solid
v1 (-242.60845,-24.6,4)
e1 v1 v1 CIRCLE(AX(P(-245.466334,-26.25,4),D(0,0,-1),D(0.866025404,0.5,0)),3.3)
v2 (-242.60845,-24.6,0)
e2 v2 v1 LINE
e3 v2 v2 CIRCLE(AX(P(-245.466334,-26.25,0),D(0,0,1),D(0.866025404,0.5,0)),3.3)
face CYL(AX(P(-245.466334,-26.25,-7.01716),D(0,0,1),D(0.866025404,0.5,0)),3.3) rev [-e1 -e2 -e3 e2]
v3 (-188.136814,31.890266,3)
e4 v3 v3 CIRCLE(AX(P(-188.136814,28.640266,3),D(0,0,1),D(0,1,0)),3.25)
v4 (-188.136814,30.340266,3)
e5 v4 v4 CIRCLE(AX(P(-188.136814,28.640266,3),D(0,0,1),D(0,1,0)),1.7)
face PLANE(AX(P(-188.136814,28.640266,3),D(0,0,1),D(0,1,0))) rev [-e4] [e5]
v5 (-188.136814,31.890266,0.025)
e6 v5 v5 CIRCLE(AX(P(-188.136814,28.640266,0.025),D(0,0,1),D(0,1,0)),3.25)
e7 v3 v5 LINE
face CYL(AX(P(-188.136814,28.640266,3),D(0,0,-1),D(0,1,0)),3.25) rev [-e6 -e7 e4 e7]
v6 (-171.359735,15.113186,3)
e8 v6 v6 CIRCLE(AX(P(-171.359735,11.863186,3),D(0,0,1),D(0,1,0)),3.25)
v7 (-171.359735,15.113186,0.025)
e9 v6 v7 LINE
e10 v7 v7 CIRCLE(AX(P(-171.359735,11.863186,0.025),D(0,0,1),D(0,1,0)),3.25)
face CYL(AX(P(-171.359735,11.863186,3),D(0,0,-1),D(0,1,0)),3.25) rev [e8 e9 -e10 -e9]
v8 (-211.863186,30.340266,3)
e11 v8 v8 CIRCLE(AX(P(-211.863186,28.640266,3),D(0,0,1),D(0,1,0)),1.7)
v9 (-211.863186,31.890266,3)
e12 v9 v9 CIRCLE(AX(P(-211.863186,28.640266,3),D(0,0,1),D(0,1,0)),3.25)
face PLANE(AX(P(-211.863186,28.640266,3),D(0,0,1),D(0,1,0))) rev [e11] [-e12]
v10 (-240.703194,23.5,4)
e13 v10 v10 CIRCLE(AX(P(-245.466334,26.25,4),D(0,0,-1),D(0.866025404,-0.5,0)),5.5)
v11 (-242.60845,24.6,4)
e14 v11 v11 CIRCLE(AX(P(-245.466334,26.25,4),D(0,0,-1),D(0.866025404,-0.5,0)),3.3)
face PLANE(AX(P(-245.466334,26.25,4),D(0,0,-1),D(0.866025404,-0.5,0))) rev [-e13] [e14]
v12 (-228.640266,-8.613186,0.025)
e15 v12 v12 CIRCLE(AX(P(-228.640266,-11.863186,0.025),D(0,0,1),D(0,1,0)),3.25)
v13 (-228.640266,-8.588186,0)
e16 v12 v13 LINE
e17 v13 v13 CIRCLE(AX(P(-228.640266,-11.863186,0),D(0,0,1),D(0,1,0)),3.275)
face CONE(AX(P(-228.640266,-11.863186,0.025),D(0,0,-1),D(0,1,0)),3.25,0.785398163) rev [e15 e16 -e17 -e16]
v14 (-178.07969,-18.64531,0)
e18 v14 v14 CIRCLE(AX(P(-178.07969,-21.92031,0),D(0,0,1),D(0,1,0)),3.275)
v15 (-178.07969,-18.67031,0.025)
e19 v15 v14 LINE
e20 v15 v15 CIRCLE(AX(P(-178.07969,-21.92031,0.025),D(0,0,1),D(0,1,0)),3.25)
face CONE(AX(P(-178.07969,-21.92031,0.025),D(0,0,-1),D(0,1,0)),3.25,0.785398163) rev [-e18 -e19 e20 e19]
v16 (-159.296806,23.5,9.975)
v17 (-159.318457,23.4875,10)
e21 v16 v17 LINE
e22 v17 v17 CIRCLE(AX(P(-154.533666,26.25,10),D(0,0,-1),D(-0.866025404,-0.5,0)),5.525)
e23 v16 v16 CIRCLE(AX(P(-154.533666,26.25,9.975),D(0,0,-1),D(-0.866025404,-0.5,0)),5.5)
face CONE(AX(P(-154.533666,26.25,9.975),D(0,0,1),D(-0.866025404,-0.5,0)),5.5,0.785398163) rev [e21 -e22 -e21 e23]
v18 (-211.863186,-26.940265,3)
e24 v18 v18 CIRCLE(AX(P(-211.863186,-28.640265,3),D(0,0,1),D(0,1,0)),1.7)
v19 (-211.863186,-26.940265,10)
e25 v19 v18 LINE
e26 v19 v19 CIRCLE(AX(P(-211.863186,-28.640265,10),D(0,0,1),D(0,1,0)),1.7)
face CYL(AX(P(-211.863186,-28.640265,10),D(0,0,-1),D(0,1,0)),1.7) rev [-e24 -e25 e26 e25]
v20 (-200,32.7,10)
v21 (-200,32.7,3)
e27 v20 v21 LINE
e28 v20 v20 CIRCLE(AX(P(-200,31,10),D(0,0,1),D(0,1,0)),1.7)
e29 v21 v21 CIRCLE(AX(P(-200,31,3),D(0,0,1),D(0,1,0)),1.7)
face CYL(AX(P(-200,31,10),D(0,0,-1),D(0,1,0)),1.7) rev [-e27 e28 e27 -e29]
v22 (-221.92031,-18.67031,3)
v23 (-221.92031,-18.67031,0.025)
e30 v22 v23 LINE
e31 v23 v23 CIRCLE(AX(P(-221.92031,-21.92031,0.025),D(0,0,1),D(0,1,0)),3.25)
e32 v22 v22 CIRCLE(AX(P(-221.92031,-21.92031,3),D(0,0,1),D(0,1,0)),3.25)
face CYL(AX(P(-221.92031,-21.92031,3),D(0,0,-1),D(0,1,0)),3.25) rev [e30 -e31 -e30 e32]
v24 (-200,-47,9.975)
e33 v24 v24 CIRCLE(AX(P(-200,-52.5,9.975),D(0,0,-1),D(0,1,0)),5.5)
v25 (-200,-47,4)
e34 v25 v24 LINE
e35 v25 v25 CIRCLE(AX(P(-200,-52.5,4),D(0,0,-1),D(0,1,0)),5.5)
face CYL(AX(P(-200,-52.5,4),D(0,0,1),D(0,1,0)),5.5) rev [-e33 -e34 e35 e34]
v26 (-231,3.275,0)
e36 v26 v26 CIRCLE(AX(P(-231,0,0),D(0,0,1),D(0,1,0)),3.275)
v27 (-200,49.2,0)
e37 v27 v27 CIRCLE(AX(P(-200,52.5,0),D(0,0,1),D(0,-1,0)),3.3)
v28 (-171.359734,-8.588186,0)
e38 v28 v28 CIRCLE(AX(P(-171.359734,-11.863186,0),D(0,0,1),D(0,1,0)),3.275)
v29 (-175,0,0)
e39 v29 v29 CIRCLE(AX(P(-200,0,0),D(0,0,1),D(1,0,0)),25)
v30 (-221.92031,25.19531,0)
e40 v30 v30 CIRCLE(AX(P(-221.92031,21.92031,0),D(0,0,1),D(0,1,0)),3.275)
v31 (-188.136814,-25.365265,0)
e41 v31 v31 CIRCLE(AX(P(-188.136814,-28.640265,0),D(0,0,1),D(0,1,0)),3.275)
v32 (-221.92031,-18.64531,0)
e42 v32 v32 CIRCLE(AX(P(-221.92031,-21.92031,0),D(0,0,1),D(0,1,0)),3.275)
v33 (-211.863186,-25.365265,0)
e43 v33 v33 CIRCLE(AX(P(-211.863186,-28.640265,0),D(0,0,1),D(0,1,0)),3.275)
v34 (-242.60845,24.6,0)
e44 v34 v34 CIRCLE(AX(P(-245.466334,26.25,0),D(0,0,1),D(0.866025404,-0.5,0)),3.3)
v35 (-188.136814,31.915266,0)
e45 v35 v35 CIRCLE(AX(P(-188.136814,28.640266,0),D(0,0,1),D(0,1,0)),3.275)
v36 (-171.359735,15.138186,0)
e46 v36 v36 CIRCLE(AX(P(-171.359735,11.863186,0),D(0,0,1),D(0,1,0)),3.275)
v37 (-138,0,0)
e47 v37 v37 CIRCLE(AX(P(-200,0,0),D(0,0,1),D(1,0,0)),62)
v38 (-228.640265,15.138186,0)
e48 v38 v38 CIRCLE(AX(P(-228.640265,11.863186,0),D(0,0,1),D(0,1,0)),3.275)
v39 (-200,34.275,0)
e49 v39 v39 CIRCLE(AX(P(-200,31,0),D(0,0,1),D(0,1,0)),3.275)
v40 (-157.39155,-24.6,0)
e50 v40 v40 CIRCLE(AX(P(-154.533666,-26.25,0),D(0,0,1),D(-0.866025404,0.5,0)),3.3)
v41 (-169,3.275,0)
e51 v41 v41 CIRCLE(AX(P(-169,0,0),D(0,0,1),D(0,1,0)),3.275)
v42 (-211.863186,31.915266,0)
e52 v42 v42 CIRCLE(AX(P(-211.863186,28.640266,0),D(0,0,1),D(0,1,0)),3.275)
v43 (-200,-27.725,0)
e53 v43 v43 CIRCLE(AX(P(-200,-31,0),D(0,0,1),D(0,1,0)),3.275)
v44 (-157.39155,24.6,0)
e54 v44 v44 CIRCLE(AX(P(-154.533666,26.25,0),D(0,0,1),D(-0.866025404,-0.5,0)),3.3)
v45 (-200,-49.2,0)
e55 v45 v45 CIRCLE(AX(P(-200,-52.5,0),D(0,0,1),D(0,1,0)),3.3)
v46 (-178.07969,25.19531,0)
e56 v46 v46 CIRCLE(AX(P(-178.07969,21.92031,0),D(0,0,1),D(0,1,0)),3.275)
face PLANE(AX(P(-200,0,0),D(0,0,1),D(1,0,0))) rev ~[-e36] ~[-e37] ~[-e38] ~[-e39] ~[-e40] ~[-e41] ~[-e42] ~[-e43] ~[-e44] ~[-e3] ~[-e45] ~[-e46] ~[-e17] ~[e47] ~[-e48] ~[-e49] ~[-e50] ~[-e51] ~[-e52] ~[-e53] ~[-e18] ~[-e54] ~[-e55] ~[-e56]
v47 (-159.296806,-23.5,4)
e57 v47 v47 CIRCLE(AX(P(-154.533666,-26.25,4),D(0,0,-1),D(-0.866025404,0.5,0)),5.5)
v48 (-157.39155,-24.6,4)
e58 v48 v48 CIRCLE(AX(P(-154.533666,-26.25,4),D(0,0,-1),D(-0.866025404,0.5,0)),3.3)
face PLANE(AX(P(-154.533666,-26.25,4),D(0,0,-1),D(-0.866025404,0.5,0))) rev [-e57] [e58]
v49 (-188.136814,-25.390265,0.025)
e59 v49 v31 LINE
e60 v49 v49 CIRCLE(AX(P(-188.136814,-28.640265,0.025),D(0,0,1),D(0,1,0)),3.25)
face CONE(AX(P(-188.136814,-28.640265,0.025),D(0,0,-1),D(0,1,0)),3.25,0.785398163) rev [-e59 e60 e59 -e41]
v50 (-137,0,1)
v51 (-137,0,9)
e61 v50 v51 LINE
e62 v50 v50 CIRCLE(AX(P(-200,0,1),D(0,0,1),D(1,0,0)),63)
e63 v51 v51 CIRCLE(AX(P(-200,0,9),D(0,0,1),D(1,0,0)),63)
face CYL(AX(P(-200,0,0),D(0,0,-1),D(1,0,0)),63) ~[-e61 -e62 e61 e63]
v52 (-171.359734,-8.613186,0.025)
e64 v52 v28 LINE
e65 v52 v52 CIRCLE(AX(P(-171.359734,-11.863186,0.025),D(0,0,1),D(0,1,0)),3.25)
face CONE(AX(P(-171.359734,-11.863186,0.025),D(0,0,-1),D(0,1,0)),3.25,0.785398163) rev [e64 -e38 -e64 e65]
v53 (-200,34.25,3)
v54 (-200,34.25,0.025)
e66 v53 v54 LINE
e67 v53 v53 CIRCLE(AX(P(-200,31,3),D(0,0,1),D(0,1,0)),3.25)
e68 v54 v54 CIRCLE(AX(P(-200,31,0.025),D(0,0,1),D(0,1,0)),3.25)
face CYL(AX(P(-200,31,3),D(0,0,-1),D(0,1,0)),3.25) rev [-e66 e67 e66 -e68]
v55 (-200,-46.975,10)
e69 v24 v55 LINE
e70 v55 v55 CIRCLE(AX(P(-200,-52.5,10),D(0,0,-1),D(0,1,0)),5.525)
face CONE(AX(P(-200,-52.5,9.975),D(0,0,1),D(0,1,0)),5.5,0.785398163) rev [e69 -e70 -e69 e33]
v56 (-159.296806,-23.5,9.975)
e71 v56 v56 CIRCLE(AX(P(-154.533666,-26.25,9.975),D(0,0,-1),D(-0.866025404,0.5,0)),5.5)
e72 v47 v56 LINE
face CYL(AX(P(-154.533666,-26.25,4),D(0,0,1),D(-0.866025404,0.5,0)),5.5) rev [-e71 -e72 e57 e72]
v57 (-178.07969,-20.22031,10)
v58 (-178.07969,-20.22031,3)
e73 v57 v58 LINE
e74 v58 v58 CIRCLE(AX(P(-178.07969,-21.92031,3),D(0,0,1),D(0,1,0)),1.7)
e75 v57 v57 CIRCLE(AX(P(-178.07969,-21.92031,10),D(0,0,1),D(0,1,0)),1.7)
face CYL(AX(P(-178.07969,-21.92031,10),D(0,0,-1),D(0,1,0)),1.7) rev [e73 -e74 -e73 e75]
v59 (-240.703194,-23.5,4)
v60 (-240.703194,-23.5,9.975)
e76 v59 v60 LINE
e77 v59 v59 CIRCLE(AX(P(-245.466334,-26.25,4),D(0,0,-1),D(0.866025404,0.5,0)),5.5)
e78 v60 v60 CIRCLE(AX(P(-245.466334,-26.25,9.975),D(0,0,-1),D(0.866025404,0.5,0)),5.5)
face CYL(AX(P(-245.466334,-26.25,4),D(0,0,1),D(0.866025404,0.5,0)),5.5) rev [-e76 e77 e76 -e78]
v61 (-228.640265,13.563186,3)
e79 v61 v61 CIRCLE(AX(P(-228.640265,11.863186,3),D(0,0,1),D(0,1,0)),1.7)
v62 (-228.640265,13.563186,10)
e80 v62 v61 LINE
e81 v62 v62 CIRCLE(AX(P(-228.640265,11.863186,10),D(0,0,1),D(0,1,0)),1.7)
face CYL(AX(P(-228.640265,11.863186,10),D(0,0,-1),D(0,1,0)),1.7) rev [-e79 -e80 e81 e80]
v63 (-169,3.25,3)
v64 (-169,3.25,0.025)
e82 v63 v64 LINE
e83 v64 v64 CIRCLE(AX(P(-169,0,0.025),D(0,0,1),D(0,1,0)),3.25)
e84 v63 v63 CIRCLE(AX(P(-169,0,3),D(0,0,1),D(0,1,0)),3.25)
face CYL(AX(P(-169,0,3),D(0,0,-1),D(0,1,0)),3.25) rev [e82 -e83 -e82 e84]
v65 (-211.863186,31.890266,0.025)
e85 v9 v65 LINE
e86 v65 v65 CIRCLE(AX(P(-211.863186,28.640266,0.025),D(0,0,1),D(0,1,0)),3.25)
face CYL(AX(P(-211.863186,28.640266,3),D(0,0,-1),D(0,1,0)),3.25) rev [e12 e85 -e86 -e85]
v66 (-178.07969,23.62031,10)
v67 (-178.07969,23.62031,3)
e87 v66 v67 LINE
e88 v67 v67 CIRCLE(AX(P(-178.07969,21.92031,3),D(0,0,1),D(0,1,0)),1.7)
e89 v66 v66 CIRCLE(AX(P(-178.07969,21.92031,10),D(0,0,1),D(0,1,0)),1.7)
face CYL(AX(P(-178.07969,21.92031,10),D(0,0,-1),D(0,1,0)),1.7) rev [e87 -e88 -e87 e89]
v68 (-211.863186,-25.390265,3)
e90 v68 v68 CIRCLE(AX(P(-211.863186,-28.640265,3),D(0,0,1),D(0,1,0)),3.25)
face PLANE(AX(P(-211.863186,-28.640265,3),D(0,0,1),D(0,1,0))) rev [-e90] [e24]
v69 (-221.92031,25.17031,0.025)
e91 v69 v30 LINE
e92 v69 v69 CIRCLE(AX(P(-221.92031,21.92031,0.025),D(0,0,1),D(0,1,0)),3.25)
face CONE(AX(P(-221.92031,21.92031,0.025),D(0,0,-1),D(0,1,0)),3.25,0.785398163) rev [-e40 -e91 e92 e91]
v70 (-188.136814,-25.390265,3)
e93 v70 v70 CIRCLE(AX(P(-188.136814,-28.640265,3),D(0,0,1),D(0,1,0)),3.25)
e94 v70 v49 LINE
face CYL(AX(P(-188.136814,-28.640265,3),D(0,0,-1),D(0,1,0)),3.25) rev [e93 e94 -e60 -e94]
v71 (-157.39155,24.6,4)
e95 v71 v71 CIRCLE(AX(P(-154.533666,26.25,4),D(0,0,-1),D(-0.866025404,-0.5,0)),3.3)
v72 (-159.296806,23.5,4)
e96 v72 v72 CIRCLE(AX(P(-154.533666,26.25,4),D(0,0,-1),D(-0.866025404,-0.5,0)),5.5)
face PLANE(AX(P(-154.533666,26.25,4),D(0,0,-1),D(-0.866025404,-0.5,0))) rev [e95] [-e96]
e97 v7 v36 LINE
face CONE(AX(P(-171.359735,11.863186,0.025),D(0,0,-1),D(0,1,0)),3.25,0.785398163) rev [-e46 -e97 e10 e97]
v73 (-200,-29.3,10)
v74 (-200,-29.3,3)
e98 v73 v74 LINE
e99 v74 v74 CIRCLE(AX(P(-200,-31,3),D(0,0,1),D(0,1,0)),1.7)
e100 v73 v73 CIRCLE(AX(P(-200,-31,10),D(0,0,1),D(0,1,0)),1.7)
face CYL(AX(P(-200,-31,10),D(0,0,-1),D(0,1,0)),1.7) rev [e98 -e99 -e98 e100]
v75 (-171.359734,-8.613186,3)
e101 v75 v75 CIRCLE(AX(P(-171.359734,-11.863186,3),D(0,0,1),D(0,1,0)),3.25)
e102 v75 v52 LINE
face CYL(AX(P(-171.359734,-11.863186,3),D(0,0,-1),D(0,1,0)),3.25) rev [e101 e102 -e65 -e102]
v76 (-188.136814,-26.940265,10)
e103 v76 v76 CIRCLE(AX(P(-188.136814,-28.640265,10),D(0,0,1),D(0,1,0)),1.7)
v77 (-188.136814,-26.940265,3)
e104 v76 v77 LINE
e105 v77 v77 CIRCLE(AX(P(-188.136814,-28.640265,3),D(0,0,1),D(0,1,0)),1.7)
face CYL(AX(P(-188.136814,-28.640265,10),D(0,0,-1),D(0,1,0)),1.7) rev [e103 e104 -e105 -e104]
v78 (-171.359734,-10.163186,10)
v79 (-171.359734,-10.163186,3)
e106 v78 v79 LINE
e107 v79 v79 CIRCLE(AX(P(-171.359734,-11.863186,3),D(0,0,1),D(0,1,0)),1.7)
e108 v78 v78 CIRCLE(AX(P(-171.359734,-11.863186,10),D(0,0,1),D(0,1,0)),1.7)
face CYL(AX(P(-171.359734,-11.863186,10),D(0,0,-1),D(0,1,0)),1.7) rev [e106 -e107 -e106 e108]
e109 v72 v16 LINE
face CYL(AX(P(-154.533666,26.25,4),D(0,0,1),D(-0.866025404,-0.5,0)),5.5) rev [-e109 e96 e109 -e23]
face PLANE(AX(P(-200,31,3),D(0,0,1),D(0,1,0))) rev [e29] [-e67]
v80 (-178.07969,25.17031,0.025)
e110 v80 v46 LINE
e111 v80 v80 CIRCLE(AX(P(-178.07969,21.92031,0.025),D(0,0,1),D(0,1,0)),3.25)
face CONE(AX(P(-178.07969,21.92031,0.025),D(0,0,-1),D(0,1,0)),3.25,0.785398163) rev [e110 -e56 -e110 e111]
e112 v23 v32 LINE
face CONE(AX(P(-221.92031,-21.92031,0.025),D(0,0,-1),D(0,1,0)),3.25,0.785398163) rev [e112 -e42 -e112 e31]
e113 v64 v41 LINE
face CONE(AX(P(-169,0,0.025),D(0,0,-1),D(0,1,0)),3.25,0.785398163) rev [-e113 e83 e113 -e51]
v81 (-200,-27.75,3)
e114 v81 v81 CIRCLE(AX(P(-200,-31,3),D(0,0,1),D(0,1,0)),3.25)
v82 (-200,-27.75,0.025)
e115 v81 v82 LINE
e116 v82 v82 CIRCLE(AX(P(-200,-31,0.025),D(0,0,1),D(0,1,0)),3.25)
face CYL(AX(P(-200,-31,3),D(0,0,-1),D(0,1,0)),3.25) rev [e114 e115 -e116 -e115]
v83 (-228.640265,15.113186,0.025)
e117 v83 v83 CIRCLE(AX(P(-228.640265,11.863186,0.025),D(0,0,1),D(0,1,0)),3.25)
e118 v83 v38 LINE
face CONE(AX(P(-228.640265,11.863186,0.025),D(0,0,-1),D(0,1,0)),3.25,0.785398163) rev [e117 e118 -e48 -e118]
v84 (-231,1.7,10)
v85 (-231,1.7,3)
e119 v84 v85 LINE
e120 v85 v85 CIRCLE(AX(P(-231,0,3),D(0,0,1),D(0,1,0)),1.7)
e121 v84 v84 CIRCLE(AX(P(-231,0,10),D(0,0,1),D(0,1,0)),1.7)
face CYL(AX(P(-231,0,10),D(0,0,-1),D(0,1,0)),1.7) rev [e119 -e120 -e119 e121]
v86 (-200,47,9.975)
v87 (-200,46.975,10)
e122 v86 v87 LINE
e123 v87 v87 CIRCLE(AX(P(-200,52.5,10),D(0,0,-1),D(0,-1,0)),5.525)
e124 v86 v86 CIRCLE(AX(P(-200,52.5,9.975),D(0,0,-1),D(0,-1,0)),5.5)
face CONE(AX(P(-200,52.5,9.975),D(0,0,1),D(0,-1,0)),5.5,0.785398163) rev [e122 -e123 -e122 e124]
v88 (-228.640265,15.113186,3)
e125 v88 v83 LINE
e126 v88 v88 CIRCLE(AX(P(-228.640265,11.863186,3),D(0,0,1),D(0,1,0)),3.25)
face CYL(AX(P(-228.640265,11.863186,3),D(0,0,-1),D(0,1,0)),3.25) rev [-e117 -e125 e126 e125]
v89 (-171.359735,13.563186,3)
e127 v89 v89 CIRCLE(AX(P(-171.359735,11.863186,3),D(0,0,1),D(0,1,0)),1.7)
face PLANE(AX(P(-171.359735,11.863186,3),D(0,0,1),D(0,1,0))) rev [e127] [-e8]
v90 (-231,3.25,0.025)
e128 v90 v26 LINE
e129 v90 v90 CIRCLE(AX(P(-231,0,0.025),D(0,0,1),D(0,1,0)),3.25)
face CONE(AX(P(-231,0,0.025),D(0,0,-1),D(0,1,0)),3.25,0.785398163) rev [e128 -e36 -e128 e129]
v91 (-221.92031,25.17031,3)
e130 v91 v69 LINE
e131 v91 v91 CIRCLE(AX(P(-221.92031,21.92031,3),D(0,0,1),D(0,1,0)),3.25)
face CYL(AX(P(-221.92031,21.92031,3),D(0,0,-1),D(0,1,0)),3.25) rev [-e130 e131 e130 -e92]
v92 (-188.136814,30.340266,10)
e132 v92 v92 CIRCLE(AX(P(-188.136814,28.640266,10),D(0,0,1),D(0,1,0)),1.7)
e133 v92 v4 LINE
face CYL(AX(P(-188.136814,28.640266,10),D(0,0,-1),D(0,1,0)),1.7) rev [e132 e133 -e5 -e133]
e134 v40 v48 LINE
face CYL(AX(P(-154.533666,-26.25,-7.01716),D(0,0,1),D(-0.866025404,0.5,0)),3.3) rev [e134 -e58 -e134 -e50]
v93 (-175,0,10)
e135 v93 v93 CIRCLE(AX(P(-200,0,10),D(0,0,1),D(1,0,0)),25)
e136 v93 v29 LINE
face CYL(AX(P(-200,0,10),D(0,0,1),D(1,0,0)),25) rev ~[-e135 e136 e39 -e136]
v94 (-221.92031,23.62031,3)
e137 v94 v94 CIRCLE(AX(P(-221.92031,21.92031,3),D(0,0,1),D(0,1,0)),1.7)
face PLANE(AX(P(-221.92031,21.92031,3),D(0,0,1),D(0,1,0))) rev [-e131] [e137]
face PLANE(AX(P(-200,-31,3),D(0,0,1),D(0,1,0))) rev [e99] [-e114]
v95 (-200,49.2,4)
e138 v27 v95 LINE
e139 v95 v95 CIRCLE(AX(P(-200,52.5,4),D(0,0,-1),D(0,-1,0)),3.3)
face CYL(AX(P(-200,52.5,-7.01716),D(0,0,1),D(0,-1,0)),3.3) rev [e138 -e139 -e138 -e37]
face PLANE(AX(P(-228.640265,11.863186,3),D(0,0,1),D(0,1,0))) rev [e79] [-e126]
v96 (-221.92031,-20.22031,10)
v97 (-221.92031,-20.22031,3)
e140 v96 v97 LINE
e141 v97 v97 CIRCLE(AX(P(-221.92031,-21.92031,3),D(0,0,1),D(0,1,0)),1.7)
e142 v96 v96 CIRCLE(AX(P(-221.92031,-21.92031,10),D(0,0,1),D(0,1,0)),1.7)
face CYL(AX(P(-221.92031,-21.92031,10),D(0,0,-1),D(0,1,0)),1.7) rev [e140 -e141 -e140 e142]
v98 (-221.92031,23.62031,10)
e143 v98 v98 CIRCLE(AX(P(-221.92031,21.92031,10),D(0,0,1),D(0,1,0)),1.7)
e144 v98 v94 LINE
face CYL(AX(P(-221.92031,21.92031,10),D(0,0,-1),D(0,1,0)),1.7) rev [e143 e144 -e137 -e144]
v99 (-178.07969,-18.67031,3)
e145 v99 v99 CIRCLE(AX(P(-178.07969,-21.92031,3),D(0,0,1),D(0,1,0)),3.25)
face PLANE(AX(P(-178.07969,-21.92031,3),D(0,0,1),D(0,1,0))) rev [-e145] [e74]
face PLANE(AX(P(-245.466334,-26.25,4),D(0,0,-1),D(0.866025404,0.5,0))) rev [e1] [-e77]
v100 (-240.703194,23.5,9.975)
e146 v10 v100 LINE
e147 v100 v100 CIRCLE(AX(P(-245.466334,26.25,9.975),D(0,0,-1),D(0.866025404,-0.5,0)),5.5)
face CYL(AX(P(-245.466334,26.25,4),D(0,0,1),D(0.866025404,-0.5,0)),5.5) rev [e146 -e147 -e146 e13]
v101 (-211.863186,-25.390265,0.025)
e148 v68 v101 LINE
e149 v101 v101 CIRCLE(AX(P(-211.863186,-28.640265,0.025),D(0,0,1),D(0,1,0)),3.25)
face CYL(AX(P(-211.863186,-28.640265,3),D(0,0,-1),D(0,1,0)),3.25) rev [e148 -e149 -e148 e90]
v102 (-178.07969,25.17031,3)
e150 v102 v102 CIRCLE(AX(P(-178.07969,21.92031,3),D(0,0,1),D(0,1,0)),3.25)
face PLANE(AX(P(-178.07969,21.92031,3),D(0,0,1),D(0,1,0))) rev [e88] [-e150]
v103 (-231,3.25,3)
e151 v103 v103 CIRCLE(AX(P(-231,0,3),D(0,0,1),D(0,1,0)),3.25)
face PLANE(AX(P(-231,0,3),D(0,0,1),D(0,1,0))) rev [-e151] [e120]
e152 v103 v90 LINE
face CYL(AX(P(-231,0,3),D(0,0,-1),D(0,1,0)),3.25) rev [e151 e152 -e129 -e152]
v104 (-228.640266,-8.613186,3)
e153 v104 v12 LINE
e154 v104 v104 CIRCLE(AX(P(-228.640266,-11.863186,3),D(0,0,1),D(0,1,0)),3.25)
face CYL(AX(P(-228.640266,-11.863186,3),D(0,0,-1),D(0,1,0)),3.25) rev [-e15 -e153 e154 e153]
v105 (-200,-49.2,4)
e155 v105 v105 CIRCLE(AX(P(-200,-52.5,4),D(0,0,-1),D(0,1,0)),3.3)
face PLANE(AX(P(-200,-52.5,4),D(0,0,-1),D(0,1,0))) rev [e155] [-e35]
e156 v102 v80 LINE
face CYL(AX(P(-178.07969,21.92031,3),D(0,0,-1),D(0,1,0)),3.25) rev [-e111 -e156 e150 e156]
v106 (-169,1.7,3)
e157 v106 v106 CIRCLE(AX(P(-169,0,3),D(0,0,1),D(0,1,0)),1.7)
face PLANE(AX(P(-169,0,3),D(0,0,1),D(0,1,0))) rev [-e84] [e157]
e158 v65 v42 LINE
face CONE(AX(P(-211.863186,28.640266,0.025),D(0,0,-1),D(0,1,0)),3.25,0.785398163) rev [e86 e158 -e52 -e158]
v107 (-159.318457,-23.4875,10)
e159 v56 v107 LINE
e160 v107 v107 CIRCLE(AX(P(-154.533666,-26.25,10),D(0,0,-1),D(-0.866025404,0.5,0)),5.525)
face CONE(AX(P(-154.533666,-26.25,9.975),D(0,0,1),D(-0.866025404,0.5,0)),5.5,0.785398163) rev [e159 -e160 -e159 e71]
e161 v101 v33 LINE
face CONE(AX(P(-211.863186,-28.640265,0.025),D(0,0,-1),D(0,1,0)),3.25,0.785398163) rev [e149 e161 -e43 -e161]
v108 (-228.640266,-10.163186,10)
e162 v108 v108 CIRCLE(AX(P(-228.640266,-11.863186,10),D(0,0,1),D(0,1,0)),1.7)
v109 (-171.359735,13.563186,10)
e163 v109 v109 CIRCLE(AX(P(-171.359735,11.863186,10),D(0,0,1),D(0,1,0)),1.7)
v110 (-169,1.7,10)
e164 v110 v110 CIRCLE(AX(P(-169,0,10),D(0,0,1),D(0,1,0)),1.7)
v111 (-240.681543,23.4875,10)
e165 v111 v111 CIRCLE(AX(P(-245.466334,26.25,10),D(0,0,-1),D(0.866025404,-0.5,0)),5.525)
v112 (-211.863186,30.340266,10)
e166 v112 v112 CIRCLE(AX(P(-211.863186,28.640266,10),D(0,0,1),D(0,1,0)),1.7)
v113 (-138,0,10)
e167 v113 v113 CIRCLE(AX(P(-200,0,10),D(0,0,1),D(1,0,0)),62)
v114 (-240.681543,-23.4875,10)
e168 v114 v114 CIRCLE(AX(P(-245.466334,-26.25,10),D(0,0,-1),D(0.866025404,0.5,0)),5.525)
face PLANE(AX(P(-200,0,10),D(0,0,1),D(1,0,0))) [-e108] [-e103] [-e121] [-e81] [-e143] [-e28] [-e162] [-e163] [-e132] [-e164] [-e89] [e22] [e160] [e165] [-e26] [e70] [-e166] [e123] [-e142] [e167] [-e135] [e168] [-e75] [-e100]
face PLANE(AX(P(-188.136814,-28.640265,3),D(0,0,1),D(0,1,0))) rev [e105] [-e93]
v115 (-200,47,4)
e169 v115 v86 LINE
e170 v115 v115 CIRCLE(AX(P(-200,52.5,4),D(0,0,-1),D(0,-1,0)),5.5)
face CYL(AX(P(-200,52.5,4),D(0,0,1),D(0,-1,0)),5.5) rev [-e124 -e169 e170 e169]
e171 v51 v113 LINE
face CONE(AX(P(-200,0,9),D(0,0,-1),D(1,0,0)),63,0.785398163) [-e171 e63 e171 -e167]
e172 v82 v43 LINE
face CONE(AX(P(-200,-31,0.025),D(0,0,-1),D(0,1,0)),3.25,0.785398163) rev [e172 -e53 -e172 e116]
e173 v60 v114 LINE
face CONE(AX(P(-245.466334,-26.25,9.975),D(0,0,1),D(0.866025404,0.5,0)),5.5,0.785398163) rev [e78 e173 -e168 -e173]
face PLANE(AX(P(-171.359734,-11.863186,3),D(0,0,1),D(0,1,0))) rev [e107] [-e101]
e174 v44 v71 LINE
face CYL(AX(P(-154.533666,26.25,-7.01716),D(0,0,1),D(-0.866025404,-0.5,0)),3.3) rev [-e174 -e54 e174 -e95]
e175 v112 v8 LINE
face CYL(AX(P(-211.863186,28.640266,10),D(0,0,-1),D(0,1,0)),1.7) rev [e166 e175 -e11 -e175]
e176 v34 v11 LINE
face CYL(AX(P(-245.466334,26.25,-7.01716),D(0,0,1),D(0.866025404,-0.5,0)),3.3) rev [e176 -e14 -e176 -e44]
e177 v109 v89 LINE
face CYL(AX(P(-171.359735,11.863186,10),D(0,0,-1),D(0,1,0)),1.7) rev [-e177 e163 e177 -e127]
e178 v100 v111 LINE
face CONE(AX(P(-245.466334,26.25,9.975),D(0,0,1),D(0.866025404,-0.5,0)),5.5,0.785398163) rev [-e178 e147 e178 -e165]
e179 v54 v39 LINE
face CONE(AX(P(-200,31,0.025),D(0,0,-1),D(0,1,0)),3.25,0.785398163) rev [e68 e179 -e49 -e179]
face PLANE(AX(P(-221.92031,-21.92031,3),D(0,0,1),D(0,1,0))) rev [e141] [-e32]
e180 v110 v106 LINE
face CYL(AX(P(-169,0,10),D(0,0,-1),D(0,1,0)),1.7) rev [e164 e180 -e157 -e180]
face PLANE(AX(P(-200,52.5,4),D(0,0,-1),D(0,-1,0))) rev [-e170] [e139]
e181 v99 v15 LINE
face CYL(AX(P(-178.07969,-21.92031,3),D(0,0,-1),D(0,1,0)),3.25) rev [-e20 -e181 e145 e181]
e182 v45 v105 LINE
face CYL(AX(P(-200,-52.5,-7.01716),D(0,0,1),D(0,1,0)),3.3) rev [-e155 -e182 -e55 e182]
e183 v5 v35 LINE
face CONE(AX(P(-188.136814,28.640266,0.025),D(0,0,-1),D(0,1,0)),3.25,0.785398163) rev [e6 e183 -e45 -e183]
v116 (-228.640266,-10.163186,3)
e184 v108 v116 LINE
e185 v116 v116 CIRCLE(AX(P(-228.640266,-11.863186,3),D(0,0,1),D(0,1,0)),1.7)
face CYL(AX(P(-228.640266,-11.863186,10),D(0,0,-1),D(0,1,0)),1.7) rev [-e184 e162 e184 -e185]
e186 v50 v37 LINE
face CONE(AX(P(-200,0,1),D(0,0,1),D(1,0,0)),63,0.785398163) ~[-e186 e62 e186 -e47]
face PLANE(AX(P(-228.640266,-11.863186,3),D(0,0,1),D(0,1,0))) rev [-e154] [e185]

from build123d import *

# Parameters (mm, degrees)
SKETCH2_R                                      = 63
BOSS_EXTRUDE1_DEPTH                            = 10
SKETCH4_R                                      = 25
CUT_EXTRUDE1_DEPTH                             = 11
CIRPATTERN1_COUNT                              = 6
CBORE_FOR_M3_SOCKET_HEAD_CAP_SCREW2_AT_2_COUNT = 2
CBORE_FOR_M3_SOCKET_HEAD_CAP_SCREW2_AT_2_PITCH = 12.095599965
CBORE_FOR_M3_SOCKET_HEAD_CAP_SCREW2_AT_3_COUNT = 2
CBORE_FOR_M3_SOCKET_HEAD_CAP_SCREW2_AT_3_PITCH = 23.726372807
CBORE_FOR_M3_SOCKET_HEAD_CAP_SCREW2_AT_4_COUNT = 2
CBORE_FOR_M3_SOCKET_HEAD_CAP_SCREW2_AT_4_PITCH = 34.445354447
CBORE_FOR_M3_SOCKET_HEAD_CAP_SCREW2_AT_5_COUNT = 2
CBORE_FOR_M3_SOCKET_HEAD_CAP_SCREW2_AT_5_PITCH = 43.840620434
CBORE_FOR_M3_SOCKET_HEAD_CAP_SCREW2_AT_6_COUNT = 2
CBORE_FOR_M3_SOCKET_HEAD_CAP_SCREW2_AT_6_PITCH = 51.551115963
CBORE_FOR_M3_SOCKET_HEAD_CAP_SCREW2_AT_7_COUNT = 2
CBORE_FOR_M3_SOCKET_HEAD_CAP_SCREW2_AT_7_PITCH = 57.280531016
CBORE_FOR_M3_SOCKET_HEAD_CAP_SCREW2_AT_8_COUNT = 2
CBORE_FOR_M3_SOCKET_HEAD_CAP_SCREW2_AT_8_PITCH = 60.808687385
CBORE_FOR_M3_SOCKET_HEAD_CAP_SCREW2_AT_9_COUNT = 2
CBORE_FOR_M3_SOCKET_HEAD_CAP_SCREW2_AT_9_PITCH = 62
CBORE_FOR_M3_SOCKET_HEAD_CAP_SCREW2_AT_1_COUNT = 2
CBORE_FOR_M3_SOCKET_HEAD_CAP_SCREW2_AT_1_PITCH = 60.808687385
CBORE_FOR_M3_SOCKET_HEAD_CAP_SCREW2_2_COUNT    = 2
CBORE_FOR_M3_SOCKET_HEAD_CAP_SCREW2_2_PITCH    = 57.280531016
CBORE_FOR_M3_SOCKET_HEAD_CAP_SCREW2_3_COUNT    = 2
CBORE_FOR_M3_SOCKET_HEAD_CAP_SCREW2_3_PITCH    = 51.551115963
CBORE_FOR_M3_SOCKET_HEAD_CAP_SCREW2_4_COUNT    = 2
CBORE_FOR_M3_SOCKET_HEAD_CAP_SCREW2_4_PITCH    = 43.840620434
CBORE_FOR_M3_SOCKET_HEAD_CAP_SCREW2_5_COUNT    = 2
CBORE_FOR_M3_SOCKET_HEAD_CAP_SCREW2_5_PITCH    = 34.445354447
CBORE_FOR_M3_SOCKET_HEAD_CAP_SCREW2_6_COUNT    = 2
CBORE_FOR_M3_SOCKET_HEAD_CAP_SCREW2_6_PITCH    = 23.726372807
CBORE_FOR_M3_SOCKET_HEAD_CAP_SCREW2_7_COUNT    = 2
CBORE_FOR_M3_SOCKET_HEAD_CAP_SCREW2_7_PITCH    = 12.095599965
CHAMFER1_SIZE                                  = 1


with BuildPart() as part:
    # Sketch2 → Boss-Extrude1 (new body)
    with BuildSketch(Plane.XY):
        with Locations((-200, 0)):
            Circle(SKETCH2_R)
    extrude(amount=BOSS_EXTRUDE1_DEPTH)

    # Sketch4 → Cut-Extrude1 (cut, through all)
    with BuildSketch(Plane.XY.offset(10)):
        with Locations((-200, 0)):
            Circle(SKETCH4_R)
    extrude(amount=-CUT_EXTRUDE1_DEPTH, mode=Mode.SUBTRACT)

    # Sketch6 → CBORE for M8 Socket Head Cap Screw1 (revolve, cut)
    with BuildSketch(Plane(origin=(-200, 52.5, 10), x_dir=(0, -1, 0), z_dir=(1, 0, 0))):
        Polygon((0, 0), (0, 19), (3.3, 17.017159957), (3.3, 6), (5.5, 6), (5.5, 0.025), (5.525, 0), align=None)
    cbore_for_m8_socket_head_cap_screw1 = revolve(axis=Axis((-200, 52.5, 16.35), (0, 0, -1)), mode=Mode.SUBTRACT)

    # CirPattern1: CBORE for M8 Socket Head Cap Screw1 ×6 about axis
    cirpattern1_axis = Axis((-200, 0, 0), (0, 0, 1))
    for i in range(1, CIRPATTERN1_COUNT):
        add(cbore_for_m8_socket_head_cap_screw1.rotate(cirpattern1_axis, i * 360 / CIRPATTERN1_COUNT), mode=Mode.SUBTRACT)

    # Sketch11 → CBORE for M3 Socket Head Cap Screw2 (revolve, cut)
    with BuildSketch(Plane(origin=(-200, 31, 0), x_dir=(0, 1, 0), z_dir=(1, 0, 0))):
        Polygon((0, 0), (0, 10), (1.7, 10), (1.7, 3), (3.25, 3), (3.25, 0.025), (3.275, 0), align=None)
    cbore_for_m3_socket_head_cap_screw2 = revolve(axis=Axis((-200, 31, -6.35), (0, 0, 1)), mode=Mode.SUBTRACT)

    # CBORE for M3 Socket Head Cap Screw2 at 2: CBORE for M3 Socket Head Cap Screw2 ×2
    with Locations(*[Vector(0.98078528, -0.195090322, 0) * (i * CBORE_FOR_M3_SOCKET_HEAD_CAP_SCREW2_AT_2_PITCH) for i in range(1, CBORE_FOR_M3_SOCKET_HEAD_CAP_SCREW2_AT_2_COUNT)]):
        add(cbore_for_m3_socket_head_cap_screw2, mode=Mode.SUBTRACT)

    # CBORE for M3 Socket Head Cap Screw2 at 3: CBORE for M3 Socket Head Cap Screw2 ×2
    with Locations(*[Vector(0.923879533, -0.382683432, 0) * (i * CBORE_FOR_M3_SOCKET_HEAD_CAP_SCREW2_AT_3_PITCH) for i in range(1, CBORE_FOR_M3_SOCKET_HEAD_CAP_SCREW2_AT_3_COUNT)]):
        add(cbore_for_m3_socket_head_cap_screw2, mode=Mode.SUBTRACT)

    # CBORE for M3 Socket Head Cap Screw2 at 4: CBORE for M3 Socket Head Cap Screw2 ×2
    with Locations(*[Vector(0.831469612, -0.555570233, 0) * (i * CBORE_FOR_M3_SOCKET_HEAD_CAP_SCREW2_AT_4_PITCH) for i in range(1, CBORE_FOR_M3_SOCKET_HEAD_CAP_SCREW2_AT_4_COUNT)]):
        add(cbore_for_m3_socket_head_cap_screw2, mode=Mode.SUBTRACT)

    # CBORE for M3 Socket Head Cap Screw2 at 5: CBORE for M3 Socket Head Cap Screw2 ×2
    with Locations(*[Vector(0.707106781, -0.707106781, 0) * (i * CBORE_FOR_M3_SOCKET_HEAD_CAP_SCREW2_AT_5_PITCH) for i in range(1, CBORE_FOR_M3_SOCKET_HEAD_CAP_SCREW2_AT_5_COUNT)]):
        add(cbore_for_m3_socket_head_cap_screw2, mode=Mode.SUBTRACT)

    # CBORE for M3 Socket Head Cap Screw2 at 6: CBORE for M3 Socket Head Cap Screw2 ×2
    with Locations(*[Vector(0.555570233, -0.831469612, 0) * (i * CBORE_FOR_M3_SOCKET_HEAD_CAP_SCREW2_AT_6_PITCH) for i in range(1, CBORE_FOR_M3_SOCKET_HEAD_CAP_SCREW2_AT_6_COUNT)]):
        add(cbore_for_m3_socket_head_cap_screw2, mode=Mode.SUBTRACT)

    # CBORE for M3 Socket Head Cap Screw2 at 7: CBORE for M3 Socket Head Cap Screw2 ×2
    with Locations(*[Vector(0.382683432, -0.923879533, 0) * (i * CBORE_FOR_M3_SOCKET_HEAD_CAP_SCREW2_AT_7_PITCH) for i in range(1, CBORE_FOR_M3_SOCKET_HEAD_CAP_SCREW2_AT_7_COUNT)]):
        add(cbore_for_m3_socket_head_cap_screw2, mode=Mode.SUBTRACT)

    # CBORE for M3 Socket Head Cap Screw2 at 8: CBORE for M3 Socket Head Cap Screw2 ×2
    with Locations(*[Vector(0.195090322, -0.98078528, 0) * (i * CBORE_FOR_M3_SOCKET_HEAD_CAP_SCREW2_AT_8_PITCH) for i in range(1, CBORE_FOR_M3_SOCKET_HEAD_CAP_SCREW2_AT_8_COUNT)]):
        add(cbore_for_m3_socket_head_cap_screw2, mode=Mode.SUBTRACT)

    # CBORE for M3 Socket Head Cap Screw2 at 9: CBORE for M3 Socket Head Cap Screw2 ×2
    with Locations(*[(0, -i * CBORE_FOR_M3_SOCKET_HEAD_CAP_SCREW2_AT_9_PITCH, 0) for i in range(1, CBORE_FOR_M3_SOCKET_HEAD_CAP_SCREW2_AT_9_COUNT)]):
        add(cbore_for_m3_socket_head_cap_screw2, mode=Mode.SUBTRACT)

    # CBORE for M3 Socket Head Cap Screw2 at 1: CBORE for M3 Socket Head Cap Screw2 ×2
    with Locations(*[Vector(-0.195090322, -0.98078528, 0) * (i * CBORE_FOR_M3_SOCKET_HEAD_CAP_SCREW2_AT_1_PITCH) for i in range(1, CBORE_FOR_M3_SOCKET_HEAD_CAP_SCREW2_AT_1_COUNT)]):
        add(cbore_for_m3_socket_head_cap_screw2, mode=Mode.SUBTRACT)

    # CBORE for M3 Socket Head Cap Screw2  2: CBORE for M3 Socket Head Cap Screw2 ×2
    with Locations(*[Vector(-0.382683432, -0.923879533, 0) * (i * CBORE_FOR_M3_SOCKET_HEAD_CAP_SCREW2_2_PITCH) for i in range(1, CBORE_FOR_M3_SOCKET_HEAD_CAP_SCREW2_2_COUNT)]):
        add(cbore_for_m3_socket_head_cap_screw2, mode=Mode.SUBTRACT)

    # CBORE for M3 Socket Head Cap Screw2  3: CBORE for M3 Socket Head Cap Screw2 ×2
    with Locations(*[Vector(-0.555570233, -0.831469612, 0) * (i * CBORE_FOR_M3_SOCKET_HEAD_CAP_SCREW2_3_PITCH) for i in range(1, CBORE_FOR_M3_SOCKET_HEAD_CAP_SCREW2_3_COUNT)]):
        add(cbore_for_m3_socket_head_cap_screw2, mode=Mode.SUBTRACT)

    # CBORE for M3 Socket Head Cap Screw2  4: CBORE for M3 Socket Head Cap Screw2 ×2
    with Locations(*[Vector(-0.707106781, -0.707106781, 0) * (i * CBORE_FOR_M3_SOCKET_HEAD_CAP_SCREW2_4_PITCH) for i in range(1, CBORE_FOR_M3_SOCKET_HEAD_CAP_SCREW2_4_COUNT)]):
        add(cbore_for_m3_socket_head_cap_screw2, mode=Mode.SUBTRACT)

    # CBORE for M3 Socket Head Cap Screw2  5: CBORE for M3 Socket Head Cap Screw2 ×2
    with Locations(*[Vector(-0.831469612, -0.555570233, 0) * (i * CBORE_FOR_M3_SOCKET_HEAD_CAP_SCREW2_5_PITCH) for i in range(1, CBORE_FOR_M3_SOCKET_HEAD_CAP_SCREW2_5_COUNT)]):
        add(cbore_for_m3_socket_head_cap_screw2, mode=Mode.SUBTRACT)

    # CBORE for M3 Socket Head Cap Screw2  6: CBORE for M3 Socket Head Cap Screw2 ×2
    with Locations(*[Vector(-0.923879533, -0.382683432, 0) * (i * CBORE_FOR_M3_SOCKET_HEAD_CAP_SCREW2_6_PITCH) for i in range(1, CBORE_FOR_M3_SOCKET_HEAD_CAP_SCREW2_6_COUNT)]):
        add(cbore_for_m3_socket_head_cap_screw2, mode=Mode.SUBTRACT)

    # CBORE for M3 Socket Head Cap Screw2  7: CBORE for M3 Socket Head Cap Screw2 ×2
    with Locations(*[Vector(-0.98078528, -0.195090322, 0) * (i * CBORE_FOR_M3_SOCKET_HEAD_CAP_SCREW2_7_PITCH) for i in range(1, CBORE_FOR_M3_SOCKET_HEAD_CAP_SCREW2_7_COUNT)]):
        add(cbore_for_m3_socket_head_cap_screw2, mode=Mode.SUBTRACT)

    # Chamfer1
    chamfer1_edges = [part.edges().sort_by_distance(p)[0] for p in [
        (-263, 0, 0),
        (-263, 0, 10),
    ]]
    chamfer(chamfer1_edges, length=CHAMFER1_SIZE)


solid = part.part
